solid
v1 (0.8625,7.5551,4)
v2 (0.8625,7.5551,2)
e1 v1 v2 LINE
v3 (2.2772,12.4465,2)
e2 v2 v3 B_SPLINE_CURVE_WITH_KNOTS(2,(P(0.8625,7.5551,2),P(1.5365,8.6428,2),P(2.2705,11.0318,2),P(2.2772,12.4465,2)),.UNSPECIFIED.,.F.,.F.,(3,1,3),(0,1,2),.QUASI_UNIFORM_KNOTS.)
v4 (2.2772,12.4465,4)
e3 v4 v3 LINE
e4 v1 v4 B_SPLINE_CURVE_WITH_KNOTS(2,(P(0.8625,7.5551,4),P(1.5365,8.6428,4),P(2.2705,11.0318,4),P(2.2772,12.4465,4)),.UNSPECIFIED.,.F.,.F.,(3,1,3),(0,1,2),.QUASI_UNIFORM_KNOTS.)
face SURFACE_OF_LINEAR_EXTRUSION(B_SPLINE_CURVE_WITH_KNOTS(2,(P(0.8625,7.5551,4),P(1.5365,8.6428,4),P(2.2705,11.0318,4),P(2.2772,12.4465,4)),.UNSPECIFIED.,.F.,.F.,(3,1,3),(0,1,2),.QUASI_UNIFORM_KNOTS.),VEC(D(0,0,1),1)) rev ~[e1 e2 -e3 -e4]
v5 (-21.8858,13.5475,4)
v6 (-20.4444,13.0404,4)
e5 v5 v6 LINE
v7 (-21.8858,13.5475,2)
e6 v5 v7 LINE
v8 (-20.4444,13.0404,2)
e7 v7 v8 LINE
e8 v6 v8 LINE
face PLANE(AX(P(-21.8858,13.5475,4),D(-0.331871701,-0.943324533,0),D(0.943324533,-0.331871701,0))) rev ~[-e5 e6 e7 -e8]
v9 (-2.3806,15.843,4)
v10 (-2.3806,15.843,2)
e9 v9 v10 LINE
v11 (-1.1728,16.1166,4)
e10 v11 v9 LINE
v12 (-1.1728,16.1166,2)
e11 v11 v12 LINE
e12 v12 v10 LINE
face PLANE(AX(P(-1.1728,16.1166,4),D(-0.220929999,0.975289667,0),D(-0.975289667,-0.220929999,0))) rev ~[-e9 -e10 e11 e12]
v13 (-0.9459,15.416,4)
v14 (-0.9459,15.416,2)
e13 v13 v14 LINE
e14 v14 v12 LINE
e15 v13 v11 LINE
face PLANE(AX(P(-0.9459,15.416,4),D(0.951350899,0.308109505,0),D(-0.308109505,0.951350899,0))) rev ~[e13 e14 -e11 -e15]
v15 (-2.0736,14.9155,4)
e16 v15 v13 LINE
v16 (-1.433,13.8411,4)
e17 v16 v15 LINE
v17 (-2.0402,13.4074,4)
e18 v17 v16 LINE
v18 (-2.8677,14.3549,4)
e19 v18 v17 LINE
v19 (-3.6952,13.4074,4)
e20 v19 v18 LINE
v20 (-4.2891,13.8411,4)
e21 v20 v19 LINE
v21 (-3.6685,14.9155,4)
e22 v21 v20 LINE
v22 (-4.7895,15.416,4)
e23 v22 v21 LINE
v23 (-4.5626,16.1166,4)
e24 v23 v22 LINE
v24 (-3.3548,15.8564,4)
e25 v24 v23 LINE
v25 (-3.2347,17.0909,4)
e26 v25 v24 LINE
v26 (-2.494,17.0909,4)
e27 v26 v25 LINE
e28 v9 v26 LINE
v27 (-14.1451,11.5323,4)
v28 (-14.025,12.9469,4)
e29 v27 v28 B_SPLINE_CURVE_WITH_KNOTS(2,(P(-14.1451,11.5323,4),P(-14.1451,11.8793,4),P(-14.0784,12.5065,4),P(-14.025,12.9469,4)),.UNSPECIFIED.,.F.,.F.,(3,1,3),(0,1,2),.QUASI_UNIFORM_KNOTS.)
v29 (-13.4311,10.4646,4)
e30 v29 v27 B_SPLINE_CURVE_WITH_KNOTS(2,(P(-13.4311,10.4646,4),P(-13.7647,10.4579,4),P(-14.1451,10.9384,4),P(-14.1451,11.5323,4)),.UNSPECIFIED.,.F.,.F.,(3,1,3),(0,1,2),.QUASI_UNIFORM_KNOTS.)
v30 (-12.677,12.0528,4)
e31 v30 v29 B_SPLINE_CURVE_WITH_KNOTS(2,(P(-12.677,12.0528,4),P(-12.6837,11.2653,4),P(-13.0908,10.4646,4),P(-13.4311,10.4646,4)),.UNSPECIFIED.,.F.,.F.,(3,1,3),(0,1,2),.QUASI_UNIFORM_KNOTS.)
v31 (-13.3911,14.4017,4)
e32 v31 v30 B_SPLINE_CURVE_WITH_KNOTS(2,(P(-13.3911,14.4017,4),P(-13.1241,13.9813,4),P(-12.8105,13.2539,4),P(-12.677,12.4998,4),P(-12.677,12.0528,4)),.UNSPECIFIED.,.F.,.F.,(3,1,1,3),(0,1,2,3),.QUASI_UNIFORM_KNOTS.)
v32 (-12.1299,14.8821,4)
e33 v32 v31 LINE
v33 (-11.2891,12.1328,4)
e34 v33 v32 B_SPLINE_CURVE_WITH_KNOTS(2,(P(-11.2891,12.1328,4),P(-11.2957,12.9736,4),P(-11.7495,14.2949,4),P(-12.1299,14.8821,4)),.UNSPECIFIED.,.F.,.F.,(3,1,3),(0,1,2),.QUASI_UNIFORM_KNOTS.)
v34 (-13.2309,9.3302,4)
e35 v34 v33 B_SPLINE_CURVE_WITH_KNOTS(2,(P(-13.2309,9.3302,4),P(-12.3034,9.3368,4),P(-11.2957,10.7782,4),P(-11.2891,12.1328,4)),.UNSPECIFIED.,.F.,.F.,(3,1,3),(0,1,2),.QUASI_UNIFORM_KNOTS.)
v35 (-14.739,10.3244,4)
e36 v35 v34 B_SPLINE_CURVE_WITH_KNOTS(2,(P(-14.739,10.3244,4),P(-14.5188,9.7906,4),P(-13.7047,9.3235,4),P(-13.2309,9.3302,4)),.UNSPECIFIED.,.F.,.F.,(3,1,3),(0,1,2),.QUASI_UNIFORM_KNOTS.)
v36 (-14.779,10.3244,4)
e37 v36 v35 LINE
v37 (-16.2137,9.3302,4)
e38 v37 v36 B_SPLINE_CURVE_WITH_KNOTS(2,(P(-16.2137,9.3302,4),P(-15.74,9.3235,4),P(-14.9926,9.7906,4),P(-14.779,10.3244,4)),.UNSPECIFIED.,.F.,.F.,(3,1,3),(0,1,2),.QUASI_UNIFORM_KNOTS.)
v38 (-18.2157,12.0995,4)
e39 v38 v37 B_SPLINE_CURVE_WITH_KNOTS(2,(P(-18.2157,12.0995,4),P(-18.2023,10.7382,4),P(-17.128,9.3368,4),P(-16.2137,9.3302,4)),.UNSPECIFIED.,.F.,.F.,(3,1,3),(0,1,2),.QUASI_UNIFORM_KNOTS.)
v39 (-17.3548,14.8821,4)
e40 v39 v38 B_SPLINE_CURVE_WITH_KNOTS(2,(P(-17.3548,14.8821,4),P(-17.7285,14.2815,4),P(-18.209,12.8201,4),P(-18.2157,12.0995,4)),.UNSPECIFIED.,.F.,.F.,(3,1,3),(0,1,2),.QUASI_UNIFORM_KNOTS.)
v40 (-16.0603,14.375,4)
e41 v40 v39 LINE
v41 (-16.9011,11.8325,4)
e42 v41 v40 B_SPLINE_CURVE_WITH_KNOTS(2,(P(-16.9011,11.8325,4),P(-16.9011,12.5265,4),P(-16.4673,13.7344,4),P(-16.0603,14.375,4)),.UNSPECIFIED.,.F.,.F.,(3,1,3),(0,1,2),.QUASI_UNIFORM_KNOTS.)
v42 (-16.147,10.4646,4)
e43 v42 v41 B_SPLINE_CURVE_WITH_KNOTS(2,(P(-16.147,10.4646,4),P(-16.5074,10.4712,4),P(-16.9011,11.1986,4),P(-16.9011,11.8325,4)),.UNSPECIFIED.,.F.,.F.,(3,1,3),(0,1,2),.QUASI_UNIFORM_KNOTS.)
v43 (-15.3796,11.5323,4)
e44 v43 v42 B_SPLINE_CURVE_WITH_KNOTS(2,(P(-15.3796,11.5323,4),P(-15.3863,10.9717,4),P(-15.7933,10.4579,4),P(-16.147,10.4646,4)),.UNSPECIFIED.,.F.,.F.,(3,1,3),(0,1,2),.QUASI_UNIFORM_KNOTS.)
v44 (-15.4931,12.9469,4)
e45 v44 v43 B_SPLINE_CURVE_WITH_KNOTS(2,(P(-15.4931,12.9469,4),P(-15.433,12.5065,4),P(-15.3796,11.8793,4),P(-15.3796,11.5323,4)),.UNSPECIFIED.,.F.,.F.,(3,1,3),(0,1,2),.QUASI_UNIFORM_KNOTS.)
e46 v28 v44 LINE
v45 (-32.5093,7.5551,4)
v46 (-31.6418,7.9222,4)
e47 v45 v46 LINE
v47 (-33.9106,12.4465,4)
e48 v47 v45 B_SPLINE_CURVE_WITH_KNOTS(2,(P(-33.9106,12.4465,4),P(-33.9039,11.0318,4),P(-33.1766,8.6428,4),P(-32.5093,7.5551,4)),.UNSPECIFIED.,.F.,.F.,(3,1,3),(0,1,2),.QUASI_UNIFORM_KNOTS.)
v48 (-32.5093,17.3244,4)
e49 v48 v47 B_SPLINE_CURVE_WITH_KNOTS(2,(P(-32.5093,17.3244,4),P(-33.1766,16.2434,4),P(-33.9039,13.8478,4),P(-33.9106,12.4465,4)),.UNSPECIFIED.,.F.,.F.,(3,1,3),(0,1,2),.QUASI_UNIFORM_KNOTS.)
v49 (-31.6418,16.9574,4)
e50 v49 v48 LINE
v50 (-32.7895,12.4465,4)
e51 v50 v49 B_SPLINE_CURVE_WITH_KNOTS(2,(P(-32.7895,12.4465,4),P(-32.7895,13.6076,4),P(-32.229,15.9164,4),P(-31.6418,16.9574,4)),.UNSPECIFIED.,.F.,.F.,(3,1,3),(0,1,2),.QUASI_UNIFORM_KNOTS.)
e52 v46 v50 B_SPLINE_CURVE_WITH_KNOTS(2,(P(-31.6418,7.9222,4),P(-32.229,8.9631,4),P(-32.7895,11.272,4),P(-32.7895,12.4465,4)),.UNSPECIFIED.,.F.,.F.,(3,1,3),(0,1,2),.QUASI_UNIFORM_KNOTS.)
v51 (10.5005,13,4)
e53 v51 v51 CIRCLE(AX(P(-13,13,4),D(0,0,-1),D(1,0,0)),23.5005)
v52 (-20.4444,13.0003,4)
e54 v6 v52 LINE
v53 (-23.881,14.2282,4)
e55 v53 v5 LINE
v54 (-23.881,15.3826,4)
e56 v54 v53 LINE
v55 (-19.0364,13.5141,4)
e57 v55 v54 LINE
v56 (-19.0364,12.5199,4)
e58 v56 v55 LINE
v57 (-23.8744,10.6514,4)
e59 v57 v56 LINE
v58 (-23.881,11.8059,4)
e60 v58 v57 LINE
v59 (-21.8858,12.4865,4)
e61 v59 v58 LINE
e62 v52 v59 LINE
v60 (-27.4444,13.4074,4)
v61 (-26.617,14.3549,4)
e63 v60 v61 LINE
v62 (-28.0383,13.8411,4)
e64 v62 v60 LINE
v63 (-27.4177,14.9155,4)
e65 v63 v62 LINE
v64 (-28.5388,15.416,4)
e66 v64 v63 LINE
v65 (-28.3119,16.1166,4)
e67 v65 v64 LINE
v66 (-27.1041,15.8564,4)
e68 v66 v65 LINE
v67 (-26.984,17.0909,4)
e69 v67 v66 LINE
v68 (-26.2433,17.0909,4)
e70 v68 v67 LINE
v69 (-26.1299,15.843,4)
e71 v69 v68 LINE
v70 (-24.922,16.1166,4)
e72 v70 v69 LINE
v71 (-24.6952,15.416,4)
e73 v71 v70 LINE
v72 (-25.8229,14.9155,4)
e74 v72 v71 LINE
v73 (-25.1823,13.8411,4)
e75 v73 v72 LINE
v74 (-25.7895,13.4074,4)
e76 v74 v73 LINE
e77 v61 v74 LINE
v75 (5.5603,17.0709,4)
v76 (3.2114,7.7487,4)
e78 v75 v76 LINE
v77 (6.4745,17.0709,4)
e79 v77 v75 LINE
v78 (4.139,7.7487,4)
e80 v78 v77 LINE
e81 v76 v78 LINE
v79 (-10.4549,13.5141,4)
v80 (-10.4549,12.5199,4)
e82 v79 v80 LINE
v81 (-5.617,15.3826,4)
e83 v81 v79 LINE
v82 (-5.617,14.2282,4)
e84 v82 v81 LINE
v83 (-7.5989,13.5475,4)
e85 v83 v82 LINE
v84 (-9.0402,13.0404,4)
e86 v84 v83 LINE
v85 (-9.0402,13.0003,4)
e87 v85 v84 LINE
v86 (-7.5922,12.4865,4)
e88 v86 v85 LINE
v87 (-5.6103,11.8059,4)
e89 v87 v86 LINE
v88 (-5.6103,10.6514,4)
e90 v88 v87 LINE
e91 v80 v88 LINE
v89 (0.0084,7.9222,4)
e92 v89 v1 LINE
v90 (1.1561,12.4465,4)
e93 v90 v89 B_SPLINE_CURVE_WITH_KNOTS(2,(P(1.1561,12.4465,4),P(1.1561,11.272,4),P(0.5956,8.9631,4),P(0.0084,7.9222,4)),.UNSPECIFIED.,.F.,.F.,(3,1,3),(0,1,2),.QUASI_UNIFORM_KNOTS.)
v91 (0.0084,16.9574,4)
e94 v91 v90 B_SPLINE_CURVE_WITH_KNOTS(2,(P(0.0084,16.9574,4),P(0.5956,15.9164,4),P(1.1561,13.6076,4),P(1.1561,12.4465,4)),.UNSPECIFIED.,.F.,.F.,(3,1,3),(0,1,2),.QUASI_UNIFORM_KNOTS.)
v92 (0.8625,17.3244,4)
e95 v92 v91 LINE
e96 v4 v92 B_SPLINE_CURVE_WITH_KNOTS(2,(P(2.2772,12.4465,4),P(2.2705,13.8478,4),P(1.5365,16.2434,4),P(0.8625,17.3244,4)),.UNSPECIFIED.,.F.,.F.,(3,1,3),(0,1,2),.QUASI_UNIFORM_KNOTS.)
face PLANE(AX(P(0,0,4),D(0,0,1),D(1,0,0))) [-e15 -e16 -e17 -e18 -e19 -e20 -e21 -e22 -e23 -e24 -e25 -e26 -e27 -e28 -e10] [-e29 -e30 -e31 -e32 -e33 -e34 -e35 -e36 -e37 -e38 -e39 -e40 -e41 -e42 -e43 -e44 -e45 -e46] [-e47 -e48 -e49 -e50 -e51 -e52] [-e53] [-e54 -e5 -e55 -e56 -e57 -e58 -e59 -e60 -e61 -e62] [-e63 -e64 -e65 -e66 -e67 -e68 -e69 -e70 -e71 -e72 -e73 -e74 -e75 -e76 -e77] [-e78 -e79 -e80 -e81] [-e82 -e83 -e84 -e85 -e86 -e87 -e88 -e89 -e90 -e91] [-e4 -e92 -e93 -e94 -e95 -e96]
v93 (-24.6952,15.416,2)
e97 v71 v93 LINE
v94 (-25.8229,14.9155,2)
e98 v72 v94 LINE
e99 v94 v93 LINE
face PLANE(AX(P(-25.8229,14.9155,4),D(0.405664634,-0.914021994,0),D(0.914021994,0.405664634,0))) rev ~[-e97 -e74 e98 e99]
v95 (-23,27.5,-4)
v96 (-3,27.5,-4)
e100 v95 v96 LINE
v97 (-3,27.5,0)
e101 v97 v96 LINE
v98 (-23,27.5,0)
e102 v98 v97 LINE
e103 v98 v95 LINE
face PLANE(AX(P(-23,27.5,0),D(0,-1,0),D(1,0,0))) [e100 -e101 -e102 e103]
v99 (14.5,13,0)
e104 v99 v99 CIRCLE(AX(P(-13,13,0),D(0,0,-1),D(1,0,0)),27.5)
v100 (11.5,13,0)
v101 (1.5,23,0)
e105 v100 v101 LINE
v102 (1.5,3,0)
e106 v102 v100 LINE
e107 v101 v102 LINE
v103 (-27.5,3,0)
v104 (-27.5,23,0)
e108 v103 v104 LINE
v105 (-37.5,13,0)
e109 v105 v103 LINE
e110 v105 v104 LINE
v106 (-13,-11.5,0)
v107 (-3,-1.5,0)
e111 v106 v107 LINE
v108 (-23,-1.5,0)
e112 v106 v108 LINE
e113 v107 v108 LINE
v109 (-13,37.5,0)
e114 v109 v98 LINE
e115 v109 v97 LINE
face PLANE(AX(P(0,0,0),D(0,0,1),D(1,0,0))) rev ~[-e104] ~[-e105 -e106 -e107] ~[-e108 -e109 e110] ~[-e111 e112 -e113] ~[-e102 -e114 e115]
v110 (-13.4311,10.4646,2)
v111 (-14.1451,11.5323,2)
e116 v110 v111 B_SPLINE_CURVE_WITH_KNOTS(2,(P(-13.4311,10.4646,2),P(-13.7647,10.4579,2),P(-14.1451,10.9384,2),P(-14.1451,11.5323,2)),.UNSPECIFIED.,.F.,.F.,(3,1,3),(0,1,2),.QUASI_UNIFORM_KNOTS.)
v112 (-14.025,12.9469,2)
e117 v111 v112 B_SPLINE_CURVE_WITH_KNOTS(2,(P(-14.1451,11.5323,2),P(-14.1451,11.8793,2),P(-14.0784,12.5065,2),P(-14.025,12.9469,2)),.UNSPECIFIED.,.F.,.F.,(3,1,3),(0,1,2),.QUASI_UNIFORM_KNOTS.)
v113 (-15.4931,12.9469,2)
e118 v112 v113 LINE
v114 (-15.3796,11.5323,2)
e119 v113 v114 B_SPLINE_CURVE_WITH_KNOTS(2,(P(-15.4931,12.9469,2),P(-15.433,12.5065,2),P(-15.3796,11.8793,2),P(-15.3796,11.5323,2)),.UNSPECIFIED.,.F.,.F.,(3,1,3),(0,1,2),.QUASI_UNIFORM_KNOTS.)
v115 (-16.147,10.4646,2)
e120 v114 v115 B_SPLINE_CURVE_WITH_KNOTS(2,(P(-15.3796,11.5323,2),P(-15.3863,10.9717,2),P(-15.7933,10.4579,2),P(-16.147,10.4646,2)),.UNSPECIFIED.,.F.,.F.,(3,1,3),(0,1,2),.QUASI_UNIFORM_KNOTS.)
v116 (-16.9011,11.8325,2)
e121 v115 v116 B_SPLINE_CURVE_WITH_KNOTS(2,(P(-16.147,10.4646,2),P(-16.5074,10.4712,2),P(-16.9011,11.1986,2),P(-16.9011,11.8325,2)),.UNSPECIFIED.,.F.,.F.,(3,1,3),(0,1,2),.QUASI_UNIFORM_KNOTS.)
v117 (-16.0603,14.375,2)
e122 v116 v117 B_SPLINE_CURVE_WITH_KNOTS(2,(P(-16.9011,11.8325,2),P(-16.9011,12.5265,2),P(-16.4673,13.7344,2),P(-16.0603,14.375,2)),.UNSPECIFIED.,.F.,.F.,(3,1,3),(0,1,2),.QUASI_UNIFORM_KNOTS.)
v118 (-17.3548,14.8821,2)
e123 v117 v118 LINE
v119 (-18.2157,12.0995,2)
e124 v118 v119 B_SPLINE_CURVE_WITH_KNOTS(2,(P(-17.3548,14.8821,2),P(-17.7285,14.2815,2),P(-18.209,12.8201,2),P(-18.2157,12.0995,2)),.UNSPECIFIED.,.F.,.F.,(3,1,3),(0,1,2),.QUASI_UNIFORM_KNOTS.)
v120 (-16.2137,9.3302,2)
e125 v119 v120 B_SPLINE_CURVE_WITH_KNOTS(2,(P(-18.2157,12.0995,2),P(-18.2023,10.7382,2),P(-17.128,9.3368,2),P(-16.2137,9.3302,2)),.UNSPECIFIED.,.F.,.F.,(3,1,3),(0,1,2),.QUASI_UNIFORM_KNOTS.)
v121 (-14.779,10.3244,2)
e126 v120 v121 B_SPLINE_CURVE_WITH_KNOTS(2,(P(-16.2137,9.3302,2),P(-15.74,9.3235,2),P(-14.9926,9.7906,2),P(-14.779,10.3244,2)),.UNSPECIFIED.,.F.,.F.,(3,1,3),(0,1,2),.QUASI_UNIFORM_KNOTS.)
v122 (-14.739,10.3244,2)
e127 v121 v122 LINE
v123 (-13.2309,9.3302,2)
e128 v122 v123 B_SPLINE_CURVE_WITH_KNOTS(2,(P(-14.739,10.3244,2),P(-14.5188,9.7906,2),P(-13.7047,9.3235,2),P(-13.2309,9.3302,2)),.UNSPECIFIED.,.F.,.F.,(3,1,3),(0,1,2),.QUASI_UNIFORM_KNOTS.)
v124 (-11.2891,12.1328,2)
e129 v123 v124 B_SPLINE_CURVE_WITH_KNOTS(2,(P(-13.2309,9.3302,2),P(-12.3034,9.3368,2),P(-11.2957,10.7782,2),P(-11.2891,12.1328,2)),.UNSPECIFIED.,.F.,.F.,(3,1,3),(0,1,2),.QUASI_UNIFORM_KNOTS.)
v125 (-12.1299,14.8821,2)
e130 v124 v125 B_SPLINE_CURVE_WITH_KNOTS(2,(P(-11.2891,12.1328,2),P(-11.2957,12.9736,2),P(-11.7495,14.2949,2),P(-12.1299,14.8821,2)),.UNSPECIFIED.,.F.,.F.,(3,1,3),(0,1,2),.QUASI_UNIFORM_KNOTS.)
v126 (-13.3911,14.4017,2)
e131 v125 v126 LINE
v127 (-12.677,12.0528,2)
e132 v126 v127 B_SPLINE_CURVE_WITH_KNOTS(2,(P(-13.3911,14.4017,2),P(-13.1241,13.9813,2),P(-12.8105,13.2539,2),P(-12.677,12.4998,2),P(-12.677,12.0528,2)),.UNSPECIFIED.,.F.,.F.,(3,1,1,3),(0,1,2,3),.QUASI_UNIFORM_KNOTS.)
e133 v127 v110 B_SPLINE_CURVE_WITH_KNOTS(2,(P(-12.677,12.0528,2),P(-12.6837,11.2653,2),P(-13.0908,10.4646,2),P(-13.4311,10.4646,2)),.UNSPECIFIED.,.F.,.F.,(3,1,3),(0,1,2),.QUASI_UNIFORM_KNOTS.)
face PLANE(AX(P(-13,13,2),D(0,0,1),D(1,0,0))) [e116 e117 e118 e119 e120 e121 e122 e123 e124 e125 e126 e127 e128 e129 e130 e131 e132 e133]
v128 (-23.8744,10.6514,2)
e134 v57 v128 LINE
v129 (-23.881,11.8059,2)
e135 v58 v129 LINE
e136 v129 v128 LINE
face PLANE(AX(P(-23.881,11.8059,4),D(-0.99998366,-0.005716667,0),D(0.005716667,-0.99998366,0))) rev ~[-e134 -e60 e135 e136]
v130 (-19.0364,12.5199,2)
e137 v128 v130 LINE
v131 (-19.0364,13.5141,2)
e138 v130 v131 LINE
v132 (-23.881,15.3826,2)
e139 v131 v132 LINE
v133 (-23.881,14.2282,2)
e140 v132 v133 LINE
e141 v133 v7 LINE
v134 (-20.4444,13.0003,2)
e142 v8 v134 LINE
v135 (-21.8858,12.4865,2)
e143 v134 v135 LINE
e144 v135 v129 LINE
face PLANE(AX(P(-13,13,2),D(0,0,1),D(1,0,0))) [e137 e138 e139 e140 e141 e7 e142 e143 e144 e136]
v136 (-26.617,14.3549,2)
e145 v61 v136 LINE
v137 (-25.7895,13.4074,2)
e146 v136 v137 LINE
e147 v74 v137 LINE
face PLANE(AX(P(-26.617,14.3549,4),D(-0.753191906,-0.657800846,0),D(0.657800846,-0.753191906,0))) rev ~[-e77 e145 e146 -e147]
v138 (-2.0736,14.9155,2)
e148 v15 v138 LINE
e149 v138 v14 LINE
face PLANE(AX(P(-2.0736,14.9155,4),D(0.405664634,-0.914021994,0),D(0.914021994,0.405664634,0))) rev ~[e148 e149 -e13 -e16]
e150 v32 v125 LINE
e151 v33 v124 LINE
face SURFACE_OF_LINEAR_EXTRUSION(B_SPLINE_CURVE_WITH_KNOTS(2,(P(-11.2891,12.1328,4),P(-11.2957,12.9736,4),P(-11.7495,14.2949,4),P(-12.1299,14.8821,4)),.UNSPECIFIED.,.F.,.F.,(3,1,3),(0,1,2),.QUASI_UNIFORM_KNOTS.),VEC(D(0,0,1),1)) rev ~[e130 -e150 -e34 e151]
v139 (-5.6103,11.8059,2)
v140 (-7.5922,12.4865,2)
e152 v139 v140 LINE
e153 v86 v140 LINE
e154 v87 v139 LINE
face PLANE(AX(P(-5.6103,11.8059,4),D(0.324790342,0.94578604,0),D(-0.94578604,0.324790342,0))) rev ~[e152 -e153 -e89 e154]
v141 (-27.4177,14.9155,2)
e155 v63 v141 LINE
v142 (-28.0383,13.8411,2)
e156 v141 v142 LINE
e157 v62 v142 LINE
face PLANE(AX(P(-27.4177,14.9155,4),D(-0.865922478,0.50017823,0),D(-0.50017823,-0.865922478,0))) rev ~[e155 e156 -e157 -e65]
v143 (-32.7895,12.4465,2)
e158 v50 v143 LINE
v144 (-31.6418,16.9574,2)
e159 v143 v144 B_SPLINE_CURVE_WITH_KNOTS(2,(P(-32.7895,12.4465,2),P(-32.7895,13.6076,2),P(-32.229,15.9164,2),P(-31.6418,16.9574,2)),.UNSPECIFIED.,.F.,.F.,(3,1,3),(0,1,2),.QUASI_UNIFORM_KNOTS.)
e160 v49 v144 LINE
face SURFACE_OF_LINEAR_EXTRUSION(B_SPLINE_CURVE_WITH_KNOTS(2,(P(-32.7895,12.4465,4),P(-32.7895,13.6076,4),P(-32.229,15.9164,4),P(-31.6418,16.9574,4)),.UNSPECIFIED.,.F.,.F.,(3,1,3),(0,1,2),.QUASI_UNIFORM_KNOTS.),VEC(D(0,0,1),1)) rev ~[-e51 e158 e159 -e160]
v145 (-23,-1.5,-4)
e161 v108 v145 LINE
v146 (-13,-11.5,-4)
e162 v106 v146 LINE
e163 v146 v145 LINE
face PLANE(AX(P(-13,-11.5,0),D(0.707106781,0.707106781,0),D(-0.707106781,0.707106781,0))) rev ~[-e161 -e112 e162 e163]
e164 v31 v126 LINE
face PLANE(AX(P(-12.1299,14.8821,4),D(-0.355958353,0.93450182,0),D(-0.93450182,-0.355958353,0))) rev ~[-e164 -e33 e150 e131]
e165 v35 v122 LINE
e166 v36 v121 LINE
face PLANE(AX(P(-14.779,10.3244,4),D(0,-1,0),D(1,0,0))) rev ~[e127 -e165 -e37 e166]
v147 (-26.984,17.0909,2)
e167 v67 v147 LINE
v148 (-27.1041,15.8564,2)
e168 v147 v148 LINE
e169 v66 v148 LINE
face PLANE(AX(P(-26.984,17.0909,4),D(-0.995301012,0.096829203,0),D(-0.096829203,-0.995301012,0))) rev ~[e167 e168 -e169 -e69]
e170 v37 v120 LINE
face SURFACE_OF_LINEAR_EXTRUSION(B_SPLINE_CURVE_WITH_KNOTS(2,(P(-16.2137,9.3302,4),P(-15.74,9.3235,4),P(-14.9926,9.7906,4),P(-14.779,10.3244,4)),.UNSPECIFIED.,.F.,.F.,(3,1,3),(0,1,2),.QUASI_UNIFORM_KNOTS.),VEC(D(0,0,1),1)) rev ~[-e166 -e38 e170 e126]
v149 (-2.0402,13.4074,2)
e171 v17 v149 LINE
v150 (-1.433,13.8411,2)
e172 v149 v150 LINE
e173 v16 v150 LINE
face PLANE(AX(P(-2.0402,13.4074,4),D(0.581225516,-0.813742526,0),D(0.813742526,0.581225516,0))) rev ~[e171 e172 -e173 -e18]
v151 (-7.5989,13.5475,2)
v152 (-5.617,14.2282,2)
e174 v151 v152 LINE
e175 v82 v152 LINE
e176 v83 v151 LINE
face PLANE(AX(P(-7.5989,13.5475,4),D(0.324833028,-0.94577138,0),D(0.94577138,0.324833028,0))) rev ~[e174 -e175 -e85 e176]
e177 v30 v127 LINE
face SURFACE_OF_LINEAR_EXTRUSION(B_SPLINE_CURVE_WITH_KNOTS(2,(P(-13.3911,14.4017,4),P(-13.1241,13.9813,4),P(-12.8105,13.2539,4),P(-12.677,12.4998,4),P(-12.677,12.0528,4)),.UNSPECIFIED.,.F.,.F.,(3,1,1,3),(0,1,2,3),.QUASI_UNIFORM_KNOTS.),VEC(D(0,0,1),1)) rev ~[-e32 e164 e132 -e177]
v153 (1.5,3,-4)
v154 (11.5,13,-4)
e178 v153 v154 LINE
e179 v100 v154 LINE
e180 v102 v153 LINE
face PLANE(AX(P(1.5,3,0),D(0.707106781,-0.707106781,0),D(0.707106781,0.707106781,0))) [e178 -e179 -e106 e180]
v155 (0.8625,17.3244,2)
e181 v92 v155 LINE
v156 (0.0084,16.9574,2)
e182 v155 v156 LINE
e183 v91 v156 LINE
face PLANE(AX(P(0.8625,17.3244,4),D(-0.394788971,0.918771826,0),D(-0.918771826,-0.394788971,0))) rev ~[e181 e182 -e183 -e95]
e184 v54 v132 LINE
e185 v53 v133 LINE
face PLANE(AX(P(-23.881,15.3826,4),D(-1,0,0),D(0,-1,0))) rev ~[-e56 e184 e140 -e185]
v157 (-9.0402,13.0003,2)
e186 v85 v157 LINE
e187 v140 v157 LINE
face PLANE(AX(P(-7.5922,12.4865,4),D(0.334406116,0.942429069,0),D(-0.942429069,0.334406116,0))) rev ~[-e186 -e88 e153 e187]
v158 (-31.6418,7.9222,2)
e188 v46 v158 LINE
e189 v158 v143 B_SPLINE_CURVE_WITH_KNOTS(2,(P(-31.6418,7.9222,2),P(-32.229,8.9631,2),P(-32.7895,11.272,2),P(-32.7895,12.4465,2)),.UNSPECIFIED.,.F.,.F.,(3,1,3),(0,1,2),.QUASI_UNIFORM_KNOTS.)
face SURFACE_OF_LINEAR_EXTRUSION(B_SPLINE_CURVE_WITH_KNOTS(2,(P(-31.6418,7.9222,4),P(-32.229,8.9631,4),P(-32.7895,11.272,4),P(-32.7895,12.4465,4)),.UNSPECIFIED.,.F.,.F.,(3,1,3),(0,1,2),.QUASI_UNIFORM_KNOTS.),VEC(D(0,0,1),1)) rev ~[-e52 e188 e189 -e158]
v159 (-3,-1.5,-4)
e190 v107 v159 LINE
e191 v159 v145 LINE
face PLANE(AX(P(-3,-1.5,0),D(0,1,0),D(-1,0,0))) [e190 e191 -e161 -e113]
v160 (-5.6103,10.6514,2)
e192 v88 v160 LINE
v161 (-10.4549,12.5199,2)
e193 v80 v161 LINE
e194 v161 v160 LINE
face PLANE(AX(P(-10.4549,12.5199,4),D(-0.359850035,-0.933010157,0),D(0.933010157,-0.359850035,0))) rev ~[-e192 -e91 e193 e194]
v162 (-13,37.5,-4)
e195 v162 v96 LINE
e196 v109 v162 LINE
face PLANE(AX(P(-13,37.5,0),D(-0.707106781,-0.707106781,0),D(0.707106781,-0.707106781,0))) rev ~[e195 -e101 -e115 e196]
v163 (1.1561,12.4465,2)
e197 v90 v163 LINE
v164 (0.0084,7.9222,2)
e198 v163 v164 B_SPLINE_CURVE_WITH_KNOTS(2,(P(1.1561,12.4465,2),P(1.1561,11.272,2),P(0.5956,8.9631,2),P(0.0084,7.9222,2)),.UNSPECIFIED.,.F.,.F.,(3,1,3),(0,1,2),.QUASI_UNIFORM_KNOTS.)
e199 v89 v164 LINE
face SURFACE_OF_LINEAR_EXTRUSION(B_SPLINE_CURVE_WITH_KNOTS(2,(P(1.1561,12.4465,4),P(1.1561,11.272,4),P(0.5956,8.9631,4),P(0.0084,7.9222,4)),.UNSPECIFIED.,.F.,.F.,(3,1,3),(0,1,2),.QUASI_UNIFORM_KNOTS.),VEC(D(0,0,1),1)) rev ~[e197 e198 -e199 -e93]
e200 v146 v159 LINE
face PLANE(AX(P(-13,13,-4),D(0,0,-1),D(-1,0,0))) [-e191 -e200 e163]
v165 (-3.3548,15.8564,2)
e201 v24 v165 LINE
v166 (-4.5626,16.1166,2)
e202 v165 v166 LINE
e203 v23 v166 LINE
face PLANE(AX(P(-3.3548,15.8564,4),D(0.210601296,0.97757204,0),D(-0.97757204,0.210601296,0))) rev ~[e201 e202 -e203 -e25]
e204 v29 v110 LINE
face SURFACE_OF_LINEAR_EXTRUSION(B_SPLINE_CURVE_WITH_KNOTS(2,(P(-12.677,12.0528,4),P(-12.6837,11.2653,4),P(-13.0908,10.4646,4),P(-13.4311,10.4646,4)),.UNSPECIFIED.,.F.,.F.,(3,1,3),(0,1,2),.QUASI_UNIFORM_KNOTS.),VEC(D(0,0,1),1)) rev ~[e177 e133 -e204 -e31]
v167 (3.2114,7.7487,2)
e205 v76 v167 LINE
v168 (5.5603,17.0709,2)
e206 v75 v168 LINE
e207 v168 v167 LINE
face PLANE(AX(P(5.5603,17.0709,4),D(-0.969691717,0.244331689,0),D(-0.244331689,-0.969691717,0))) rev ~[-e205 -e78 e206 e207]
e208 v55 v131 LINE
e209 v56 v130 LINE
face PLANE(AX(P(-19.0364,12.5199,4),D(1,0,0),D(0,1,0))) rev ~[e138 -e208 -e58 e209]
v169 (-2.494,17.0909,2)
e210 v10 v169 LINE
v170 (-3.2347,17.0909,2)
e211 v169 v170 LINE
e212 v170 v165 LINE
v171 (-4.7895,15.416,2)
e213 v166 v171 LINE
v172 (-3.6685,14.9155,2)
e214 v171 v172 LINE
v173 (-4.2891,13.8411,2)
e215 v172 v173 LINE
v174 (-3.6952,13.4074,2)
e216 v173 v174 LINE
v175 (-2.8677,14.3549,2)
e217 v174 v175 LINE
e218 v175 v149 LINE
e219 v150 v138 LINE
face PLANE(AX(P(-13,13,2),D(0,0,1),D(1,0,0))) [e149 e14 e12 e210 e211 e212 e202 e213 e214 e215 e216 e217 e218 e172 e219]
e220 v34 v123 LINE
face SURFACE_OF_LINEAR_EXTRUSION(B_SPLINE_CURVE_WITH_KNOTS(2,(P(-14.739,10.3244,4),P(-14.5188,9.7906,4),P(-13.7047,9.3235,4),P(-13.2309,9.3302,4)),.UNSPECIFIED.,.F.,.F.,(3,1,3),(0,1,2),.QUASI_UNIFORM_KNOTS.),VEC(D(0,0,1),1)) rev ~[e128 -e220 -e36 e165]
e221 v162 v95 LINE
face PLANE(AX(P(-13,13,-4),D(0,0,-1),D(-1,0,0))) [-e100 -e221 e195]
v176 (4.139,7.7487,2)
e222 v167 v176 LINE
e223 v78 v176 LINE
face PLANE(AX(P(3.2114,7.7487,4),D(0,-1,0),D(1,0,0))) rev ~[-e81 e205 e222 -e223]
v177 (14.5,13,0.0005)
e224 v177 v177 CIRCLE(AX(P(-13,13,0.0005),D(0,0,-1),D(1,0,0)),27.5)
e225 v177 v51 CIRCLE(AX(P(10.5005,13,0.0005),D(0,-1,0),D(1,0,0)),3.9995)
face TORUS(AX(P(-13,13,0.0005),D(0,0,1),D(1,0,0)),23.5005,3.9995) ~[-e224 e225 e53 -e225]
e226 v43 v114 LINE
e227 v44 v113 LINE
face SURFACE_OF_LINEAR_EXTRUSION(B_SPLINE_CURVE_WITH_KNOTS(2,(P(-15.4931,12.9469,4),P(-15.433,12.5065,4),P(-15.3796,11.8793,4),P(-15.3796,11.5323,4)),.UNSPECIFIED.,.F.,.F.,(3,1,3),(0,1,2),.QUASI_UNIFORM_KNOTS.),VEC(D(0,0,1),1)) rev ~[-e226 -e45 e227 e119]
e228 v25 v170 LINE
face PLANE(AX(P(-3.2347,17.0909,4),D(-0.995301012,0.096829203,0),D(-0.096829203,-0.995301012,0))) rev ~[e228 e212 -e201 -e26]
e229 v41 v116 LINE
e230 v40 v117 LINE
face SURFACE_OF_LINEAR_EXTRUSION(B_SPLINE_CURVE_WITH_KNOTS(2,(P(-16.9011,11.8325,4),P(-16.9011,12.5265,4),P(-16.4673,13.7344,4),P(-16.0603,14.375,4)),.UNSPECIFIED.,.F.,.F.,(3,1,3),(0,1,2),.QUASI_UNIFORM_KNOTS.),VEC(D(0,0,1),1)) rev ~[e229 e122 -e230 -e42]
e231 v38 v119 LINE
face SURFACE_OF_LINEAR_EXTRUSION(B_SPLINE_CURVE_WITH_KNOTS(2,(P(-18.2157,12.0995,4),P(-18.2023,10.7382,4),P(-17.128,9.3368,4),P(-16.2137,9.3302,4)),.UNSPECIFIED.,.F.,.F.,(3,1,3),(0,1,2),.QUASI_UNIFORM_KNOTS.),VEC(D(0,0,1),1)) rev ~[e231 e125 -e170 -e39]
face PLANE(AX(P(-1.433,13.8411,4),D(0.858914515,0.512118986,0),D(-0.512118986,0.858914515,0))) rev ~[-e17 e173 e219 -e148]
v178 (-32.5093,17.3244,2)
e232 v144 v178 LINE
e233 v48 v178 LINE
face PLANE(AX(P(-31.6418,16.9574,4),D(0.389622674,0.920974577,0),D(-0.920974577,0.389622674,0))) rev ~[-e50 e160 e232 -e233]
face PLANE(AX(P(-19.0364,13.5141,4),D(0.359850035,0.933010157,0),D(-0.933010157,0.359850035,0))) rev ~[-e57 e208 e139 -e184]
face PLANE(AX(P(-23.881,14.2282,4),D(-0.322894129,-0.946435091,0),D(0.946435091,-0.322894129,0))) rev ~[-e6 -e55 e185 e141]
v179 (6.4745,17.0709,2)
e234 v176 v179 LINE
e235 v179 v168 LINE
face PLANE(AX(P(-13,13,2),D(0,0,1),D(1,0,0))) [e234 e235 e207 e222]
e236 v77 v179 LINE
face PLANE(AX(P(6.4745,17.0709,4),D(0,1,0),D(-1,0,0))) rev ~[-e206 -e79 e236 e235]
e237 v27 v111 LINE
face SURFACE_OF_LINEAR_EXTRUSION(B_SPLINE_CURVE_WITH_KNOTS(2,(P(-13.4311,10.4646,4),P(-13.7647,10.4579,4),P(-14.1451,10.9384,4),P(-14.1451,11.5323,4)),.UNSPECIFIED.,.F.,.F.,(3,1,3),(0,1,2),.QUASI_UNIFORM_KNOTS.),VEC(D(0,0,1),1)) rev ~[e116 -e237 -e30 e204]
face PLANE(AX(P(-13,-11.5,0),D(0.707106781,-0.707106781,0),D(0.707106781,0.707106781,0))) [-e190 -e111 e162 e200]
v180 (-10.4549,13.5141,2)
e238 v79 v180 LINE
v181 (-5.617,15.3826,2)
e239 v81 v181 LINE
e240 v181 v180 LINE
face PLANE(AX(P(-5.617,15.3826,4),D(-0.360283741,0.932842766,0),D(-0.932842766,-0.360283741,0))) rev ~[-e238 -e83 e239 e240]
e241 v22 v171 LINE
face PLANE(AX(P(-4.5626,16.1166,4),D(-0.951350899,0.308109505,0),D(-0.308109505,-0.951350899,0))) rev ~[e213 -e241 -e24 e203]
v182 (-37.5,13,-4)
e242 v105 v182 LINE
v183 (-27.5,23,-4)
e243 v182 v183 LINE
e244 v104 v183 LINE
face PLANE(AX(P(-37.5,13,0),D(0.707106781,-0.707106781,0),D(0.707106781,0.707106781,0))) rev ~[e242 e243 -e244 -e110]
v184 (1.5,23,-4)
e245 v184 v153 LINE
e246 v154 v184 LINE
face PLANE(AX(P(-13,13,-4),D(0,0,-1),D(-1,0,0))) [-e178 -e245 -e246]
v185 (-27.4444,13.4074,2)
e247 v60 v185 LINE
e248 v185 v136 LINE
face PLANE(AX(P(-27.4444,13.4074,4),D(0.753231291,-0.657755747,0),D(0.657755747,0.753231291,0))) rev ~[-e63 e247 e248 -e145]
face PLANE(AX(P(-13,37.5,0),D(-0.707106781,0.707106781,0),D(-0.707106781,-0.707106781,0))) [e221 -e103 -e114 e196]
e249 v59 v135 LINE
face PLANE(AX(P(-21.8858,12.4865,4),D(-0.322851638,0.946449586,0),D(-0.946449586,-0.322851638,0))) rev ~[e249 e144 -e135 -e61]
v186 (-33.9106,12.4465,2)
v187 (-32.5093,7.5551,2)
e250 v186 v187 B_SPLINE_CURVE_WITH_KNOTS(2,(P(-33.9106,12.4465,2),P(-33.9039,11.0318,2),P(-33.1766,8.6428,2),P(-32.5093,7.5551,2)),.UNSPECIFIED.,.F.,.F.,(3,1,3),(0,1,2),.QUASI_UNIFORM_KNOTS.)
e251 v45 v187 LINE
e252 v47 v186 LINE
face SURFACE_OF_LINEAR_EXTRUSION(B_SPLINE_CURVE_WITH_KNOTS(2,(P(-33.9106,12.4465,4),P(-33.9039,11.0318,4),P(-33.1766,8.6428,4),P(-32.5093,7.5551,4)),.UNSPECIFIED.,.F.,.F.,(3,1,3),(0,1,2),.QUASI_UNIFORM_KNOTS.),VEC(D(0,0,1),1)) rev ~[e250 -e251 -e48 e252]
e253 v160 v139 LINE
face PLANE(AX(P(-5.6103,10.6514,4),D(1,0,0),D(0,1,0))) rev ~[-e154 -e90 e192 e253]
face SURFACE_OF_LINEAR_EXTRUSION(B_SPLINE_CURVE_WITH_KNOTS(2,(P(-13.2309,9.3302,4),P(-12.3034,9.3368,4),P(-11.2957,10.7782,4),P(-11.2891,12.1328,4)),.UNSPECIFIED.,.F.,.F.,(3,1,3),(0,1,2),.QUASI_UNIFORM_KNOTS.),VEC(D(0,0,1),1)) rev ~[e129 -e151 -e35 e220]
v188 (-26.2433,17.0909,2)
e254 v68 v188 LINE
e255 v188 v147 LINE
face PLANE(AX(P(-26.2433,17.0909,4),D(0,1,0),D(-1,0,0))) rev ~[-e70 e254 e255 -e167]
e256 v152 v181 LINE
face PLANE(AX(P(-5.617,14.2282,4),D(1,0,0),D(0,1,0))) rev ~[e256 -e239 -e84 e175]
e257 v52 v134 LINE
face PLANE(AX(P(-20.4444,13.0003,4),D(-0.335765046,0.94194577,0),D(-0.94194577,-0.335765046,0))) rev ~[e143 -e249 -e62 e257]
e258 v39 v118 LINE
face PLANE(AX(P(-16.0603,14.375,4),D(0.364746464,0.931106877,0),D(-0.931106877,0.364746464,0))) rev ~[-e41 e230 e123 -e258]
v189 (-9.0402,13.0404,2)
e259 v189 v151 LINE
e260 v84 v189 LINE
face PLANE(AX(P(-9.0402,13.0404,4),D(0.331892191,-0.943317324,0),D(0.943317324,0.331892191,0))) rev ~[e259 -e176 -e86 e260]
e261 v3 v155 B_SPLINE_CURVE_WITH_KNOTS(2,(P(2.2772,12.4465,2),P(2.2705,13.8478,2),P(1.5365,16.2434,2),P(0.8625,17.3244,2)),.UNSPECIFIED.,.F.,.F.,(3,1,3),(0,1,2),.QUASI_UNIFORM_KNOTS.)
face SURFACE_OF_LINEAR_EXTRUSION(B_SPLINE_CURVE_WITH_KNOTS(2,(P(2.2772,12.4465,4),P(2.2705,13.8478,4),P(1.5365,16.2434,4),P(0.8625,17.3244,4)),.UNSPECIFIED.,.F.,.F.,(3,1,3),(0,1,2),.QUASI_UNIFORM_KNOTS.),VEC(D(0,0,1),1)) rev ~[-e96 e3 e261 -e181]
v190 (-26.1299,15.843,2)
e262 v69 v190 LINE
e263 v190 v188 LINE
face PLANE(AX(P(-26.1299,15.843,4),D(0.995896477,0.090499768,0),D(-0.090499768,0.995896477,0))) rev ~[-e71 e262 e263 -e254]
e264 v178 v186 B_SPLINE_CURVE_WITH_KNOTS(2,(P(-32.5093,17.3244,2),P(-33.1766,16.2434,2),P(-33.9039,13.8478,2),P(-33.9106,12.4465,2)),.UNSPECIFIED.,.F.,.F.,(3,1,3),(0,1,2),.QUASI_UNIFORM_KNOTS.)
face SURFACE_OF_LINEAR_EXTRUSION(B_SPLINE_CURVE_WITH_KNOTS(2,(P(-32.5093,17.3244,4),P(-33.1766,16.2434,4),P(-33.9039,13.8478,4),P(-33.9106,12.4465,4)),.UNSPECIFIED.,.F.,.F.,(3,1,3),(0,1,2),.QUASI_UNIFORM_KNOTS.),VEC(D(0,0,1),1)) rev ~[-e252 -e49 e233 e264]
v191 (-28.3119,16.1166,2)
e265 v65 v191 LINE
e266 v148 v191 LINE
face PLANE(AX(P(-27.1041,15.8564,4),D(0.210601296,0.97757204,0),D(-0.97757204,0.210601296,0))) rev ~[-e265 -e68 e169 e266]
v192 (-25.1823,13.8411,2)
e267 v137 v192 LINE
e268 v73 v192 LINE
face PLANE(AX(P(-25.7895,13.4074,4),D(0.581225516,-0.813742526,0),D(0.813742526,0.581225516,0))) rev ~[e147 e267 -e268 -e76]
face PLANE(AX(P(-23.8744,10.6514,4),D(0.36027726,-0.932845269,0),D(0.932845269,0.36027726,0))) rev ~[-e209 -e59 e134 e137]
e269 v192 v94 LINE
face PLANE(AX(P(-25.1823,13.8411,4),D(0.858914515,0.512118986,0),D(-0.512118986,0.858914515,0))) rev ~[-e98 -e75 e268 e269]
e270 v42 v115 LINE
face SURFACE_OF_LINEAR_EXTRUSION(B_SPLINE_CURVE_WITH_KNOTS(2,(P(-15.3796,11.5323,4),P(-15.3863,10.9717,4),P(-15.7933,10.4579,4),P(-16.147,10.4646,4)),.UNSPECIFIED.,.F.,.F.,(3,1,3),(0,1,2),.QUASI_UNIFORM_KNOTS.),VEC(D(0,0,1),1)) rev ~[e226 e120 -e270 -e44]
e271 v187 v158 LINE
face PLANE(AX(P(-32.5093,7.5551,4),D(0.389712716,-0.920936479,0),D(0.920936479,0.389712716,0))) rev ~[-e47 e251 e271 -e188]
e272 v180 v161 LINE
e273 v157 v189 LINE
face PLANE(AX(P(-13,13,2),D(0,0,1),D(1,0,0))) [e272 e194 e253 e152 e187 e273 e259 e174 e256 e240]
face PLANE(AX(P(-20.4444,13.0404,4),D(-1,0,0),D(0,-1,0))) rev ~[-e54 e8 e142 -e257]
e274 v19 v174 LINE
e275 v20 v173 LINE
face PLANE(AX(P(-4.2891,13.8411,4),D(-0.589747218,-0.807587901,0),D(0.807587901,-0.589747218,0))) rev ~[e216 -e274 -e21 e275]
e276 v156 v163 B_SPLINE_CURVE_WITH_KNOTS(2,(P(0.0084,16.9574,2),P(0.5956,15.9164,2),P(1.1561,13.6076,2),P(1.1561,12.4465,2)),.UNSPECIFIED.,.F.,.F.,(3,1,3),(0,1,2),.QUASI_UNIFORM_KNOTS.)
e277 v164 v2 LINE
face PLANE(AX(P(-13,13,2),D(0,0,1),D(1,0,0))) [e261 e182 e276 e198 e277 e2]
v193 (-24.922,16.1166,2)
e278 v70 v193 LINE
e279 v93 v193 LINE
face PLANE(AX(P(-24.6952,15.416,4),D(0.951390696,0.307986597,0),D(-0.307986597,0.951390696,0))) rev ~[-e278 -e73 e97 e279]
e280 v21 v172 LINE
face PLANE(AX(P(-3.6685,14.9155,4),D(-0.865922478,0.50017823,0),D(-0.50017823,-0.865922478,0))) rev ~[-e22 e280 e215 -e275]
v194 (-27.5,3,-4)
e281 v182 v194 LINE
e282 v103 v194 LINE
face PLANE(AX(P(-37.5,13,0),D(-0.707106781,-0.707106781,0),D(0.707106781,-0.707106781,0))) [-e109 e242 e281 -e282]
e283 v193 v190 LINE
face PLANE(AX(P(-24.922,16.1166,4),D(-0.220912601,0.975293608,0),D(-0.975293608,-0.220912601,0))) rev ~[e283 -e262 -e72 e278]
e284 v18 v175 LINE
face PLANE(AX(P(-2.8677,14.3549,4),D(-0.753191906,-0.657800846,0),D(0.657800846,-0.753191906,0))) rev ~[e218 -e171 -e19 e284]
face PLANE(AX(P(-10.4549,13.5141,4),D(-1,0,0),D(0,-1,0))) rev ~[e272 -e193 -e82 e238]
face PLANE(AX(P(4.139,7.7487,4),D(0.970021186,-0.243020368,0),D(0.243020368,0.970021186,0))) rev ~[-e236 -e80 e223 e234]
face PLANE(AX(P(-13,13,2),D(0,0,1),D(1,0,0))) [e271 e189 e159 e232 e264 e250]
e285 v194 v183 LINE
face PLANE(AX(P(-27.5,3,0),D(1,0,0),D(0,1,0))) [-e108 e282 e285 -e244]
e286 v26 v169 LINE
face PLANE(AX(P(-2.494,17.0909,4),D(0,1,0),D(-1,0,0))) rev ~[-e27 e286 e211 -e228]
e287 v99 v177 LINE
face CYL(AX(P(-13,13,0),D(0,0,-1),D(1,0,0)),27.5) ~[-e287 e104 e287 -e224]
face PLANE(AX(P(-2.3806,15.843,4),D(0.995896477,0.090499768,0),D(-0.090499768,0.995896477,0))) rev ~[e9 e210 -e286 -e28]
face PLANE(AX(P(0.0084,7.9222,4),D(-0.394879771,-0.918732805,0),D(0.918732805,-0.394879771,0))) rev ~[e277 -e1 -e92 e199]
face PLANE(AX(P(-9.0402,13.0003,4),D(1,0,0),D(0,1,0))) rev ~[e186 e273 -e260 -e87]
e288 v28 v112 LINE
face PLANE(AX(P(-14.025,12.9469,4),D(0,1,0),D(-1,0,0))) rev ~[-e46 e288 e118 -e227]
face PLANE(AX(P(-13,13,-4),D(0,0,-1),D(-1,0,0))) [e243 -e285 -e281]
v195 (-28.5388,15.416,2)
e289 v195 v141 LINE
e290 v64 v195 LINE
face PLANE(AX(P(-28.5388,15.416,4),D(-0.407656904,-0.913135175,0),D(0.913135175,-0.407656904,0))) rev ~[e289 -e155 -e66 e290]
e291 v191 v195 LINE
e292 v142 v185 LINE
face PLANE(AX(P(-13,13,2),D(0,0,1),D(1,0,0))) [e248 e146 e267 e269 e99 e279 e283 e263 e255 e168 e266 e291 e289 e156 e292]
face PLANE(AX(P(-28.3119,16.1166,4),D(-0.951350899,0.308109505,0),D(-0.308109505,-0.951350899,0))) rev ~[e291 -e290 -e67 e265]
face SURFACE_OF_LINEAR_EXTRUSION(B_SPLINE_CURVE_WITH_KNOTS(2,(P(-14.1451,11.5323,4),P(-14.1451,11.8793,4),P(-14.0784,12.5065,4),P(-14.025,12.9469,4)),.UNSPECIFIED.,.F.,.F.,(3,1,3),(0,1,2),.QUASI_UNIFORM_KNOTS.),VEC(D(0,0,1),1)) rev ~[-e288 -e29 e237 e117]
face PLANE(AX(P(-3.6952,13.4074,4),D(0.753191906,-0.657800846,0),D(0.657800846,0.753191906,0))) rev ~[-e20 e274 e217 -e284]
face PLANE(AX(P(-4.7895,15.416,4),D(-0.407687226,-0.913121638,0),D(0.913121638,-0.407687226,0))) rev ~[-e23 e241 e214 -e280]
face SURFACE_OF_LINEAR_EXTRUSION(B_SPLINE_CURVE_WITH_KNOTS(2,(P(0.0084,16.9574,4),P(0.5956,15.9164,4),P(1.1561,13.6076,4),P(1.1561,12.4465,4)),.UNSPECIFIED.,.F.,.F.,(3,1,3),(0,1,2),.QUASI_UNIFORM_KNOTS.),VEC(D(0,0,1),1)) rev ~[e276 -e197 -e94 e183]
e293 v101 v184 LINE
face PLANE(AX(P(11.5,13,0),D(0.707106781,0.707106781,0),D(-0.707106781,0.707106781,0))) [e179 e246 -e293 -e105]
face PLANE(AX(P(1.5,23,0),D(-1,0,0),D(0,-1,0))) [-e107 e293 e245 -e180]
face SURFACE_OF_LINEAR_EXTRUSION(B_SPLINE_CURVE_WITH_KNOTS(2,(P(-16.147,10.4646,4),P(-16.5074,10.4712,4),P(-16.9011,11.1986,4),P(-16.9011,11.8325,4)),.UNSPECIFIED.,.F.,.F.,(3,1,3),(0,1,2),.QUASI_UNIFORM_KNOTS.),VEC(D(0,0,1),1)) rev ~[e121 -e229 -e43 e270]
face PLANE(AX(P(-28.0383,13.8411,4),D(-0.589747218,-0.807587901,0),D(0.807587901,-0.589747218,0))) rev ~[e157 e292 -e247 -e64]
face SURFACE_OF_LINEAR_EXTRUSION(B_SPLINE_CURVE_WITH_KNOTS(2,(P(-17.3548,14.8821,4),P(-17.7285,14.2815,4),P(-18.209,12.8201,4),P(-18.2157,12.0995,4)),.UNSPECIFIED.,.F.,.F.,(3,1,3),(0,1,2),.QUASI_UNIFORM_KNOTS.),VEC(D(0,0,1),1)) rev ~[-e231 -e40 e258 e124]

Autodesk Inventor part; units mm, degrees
ref_plane "YZ Plane" through (0, 0, 0) normal (1, 0, 0) x (0, 1, 0)
ref_plane "XZ Plane" through (0, 0, 0) normal (0, 1, 0) x (-1, 0, 0)
ref_plane "XY Plane" through (0, 0, 0) normal (0, 0, 1) x (1, 0, 0)
sketch "スケッチ1" plane through (0, 0, 0) normal (0, 0, 1) x (1, 0, 0)
  line L0 (23, 24.5) -> (3, 24.5) projected
  line L1 (23, 24.5) -> (3, 24.5) construction
  line L2 (23, 24.5) -> (3, 24.5)
  line L3 (23, 24.5) -> (3, 24.5)
  line L4 (23, 24.5) -> (3, 24.5)
  line L5 (23, 24.5) -> (3, 24.5) construction
  line L6 (13, 14.5) -> (3, 24.5) projected
  line L7 (3, 1.5) -> (13, 11.5) projected
  line L8 (11.5, 13) -> (1.5, 3) projected
  line L9 (1.5, 23) -> (11.5, 13) projected
  line L10 (1.5, 3) -> (1.5, 23) projected
  line L11 (0, 0) -> (0, 26) projected
  line L12 (0, 26) -> (50.5, 26) projected
  line L13 (50.5, 0) -> (0, 0) projected
  line L14 (0, 0) -> (-26, 0)
  line L15 (-26, 0) -> (-26, 26)
  line L16 (-26, 26) -> (0, 26)
  line L17 (0, 26) -> (0, 0)
  line L18 (-26, 0) -> (0, 26)
  line L19 (0, 0) -> (-26, 26)
  circle A0 centre (-13, 13) radius 27.5
  dimension "d0" = 26
extrude "押し出し1" add sketch "スケッチ1" along normal blind 4 contours L8 L10 L9 | L19 L18 L11 | L11 L12 A0 L13 | L13 A0 L12 L16 L15 L14 | L14 L18 L19 | L18 L19 L16 | L15 L19 L18
sketch "スケッチ2" plane through (-13, 13, 0) normal (0, 0, -1) x (-1, 0, 0)
  line L0 (-24.5, 0) -> (-14.5, 10) projected
  line L1 (-14.5, 10) -> (-14.5, -10) projected
  line L2 (-14.5, -10) -> (-24.5, 0) projected
  line L3 (-14.5, 10) -> (-14.5, -10)
  line L4 (-24.5, 0) -> (-14.5, 10)
  line L5 (-24.5, 0) -> (-14.5, -10)
  line L6 (-10, -14.5) -> (10, -14.5)
  line L7 (0, -24.5) -> (-10, -14.5)
  line L8 (0, -24.5) -> (10, -14.5)
  line L9 (14.5, -10) -> (14.5, 10)
  line L10 (24.5, 0) -> (14.5, -10)
  line L11 (24.5, 0) -> (14.5, 10)
  line L12 (10, 14.5) -> (-10, 14.5)
  line L13 (0, 24.5) -> (10, 14.5)
  line L14 (0, 24.5) -> (-10, 14.5)
  point P0 (-13, -13)
  point P1 (0, 0)
  dimension "d5" = 360
fillet "フィレット1" radius 4 1 edges at (-40.5, 13, 4)
extrude "押し出し2" add sketch "スケッチ2" along normal blind 4
sketch "スケッチ3" plane through (-13, 13, 4) normal (0, 0, 1) x (1, 0, 0)
  line L0 (-21.7114, 4.3311) -> (23.7979, 4.3311) construction
  line L1 (23.7979, 4.3311) -> (23.7979, -14.3854) construction
  line L2 (23.7979, -14.3854) -> (-21.7114, -14.3854) construction
  line L3 (-21.7114, -14.3854) -> (-21.7114, 4.3311) construction
  line L4 (-19.5093, -5.4449) -> (-18.6418, -5.0778)
  spline S0 degree 2 poles (-18.6418, -5.0778) (-19.229, -4.0369) (-19.7895, -1.728) (-19.7895, -0.5535) knots 0 0 0 1 2 2 2
  spline S1 degree 2 poles (-19.7895, -0.5535) (-19.7895, 0.6076) (-19.229, 2.9164) (-18.6418, 3.9574) knots 0 0 0 1 2 2 2
  line L5 (-18.6418, 3.9574) -> (-19.5093, 4.3244)
  spline S2 degree 2 poles (-19.5093, 4.3244) (-20.1766, 3.2434) (-20.9039, 0.8478) (-20.9106, -0.5535) knots 0 0 0 1 2 2 2
  spline S3 degree 2 poles (-20.9106, -0.5535) (-20.9039, -1.9682) (-20.1766, -4.3572) (-19.5093, -5.4449) knots 0 0 0 1 2 2 2
  line L6 (-14.4444, 0.4074) -> (-13.617, 1.3549)
  line L7 (-13.617, 1.3549) -> (-12.7895, 0.4074)
  line L8 (-12.7895, 0.4074) -> (-12.1823, 0.8411)
  line L9 (-12.1823, 0.8411) -> (-12.8229, 1.9155)
  line L10 (-12.8229, 1.9155) -> (-11.6952, 2.416)
  line L11 (-11.6952, 2.416) -> (-11.922, 3.1166)
  line L12 (-11.922, 3.1166) -> (-13.1299, 2.843)
  line L13 (-13.1299, 2.843) -> (-13.2433, 4.0909)
  line L14 (-13.2433, 4.0909) -> (-13.984, 4.0909)
  line L15 (-13.984, 4.0909) -> (-14.1041, 2.8564)
  line L16 (-14.1041, 2.8564) -> (-15.3119, 3.1166)
  line L17 (-15.3119, 3.1166) -> (-15.5388, 2.416)
  line L18 (-15.5388, 2.416) -> (-14.4177, 1.9155)
  line L19 (-14.4177, 1.9155) -> (-15.0383, 0.8411)
  line L20 (-15.0383, 0.8411) -> (-14.4444, 0.4074)
  line L21 (-10.8744, -2.3486) -> (-6.0364, -0.4801)
  line L22 (-6.0364, -0.4801) -> (-6.0364, 0.5141)
  line L23 (-6.0364, 0.5141) -> (-10.881, 2.3826)
  line L24 (-10.881, 2.3826) -> (-10.881, 1.2282)
  line L25 (-10.881, 1.2282) -> (-8.8858, 0.5475)
  line L26 (-8.8858, 0.5475) -> (-7.4444, 0.0404)
  line L27 (-7.4444, 0.0404) -> (-7.4444, 0.0003)
  line L28 (-7.4444, 0.0003) -> (-8.8858, -0.5135)
  line L29 (-8.8858, -0.5135) -> (-10.881, -1.1941)
  line L30 (-10.881, -1.1941) -> (-10.8744, -2.3486)
  spline S4 degree 2 poles (-3.2137, -3.6698) (-2.74, -3.6765) (-1.9926, -3.2094) (-1.779, -2.6756) knots 0 0 0 1 2 2 2
  line L31 (-1.779, -2.6756) -> (-1.739, -2.6756)
  spline S5 degree 2 poles (-1.739, -2.6756) (-1.5188, -3.2094) (-0.7047, -3.6765) (-0.2309, -3.6698) knots 0 0 0 1 2 2 2
  spline S6 degree 2 poles (-0.2309, -3.6698) (0.6966, -3.6632) (1.7043, -2.2218) (1.7109, -0.8672) knots 0 0 0 1 2 2 2
  spline S7 degree 2 poles (1.7109, -0.8672) (1.7043, -0.0264) (1.2505, 1.2949) (0.8701, 1.8821) knots 0 0 0 1 2 2 2
  line L32 (0.8701, 1.8821) -> (-0.3911, 1.4017)
  spline S8 degree 2 poles (-0.3911, 1.4017) (-0.1241, 0.9813) (0.1895, 0.2539) (0.323, -0.5002) (0.323, -0.9472) knots 0 0 0 1 2 3 3 3
  spline S9 degree 2 poles (0.323, -0.9472) (0.3163, -1.7347) (-0.0908, -2.5354) (-0.4311, -2.5354) knots 0 0 0 1 2 2 2
  spline S10 degree 2 poles (-0.4311, -2.5354) (-0.7647, -2.5421) (-1.1451, -2.0616) (-1.1451, -1.4677) knots 0 0 0 1 2 2 2
  spline S11 degree 2 poles (-1.1451, -1.4677) (-1.1451, -1.1207) (-1.0784, -0.4935) (-1.025, -0.0531) knots 0 0 0 1 2 2 2
  line L33 (-1.025, -0.0531) -> (-2.4931, -0.0531)
  spline S12 degree 2 poles (-2.4931, -0.0531) (-2.433, -0.4935) (-2.3796, -1.1207) (-2.3796, -1.4677) knots 0 0 0 1 2 2 2
  spline S13 degree 2 poles (-2.3796, -1.4677) (-2.3863, -2.0283) (-2.7933, -2.5421) (-3.147, -2.5354) knots 0 0 0 1 2 2 2
  spline S14 degree 2 poles (-3.147, -2.5354) (-3.5074, -2.5288) (-3.9011, -1.8014) (-3.9011, -1.1675) knots 0 0 0 1 2 2 2
  spline S15 degree 2 poles (-3.9011, -1.1675) (-3.9011, -0.4735) (-3.4673, 0.7344) (-3.0603, 1.375) knots 0 0 0 1 2 2 2
  line L34 (-3.0603, 1.375) -> (-4.3548, 1.8821)
  spline S16 degree 2 poles (-4.3548, 1.8821) (-4.7285, 1.2815) (-5.209, -0.1799) (-5.2157, -0.9005) knots 0 0 0 1 2 2 2
  spline S17 degree 2 poles (-5.2157, -0.9005) (-5.2023, -2.2618) (-4.128, -3.6632) (-3.2137, -3.6698) knots 0 0 0 1 2 2 2
  line L35 (7.3897, -2.3486) -> (7.3897, -1.1941)
  line L36 (7.3897, -1.1941) -> (5.4078, -0.5135)
  line L37 (5.4078, -0.5135) -> (3.9598, 0.0003)
  line L38 (3.9598, 0.0003) -> (3.9598, 0.0404)
  line L39 (3.9598, 0.0404) -> (5.4011, 0.5475)
  line L40 (5.4011, 0.5475) -> (7.383, 1.2282)
  line L41 (7.383, 1.2282) -> (7.383, 2.3826)
  line L42 (7.383, 2.3826) -> (2.5451, 0.5141)
  line L43 (2.5451, 0.5141) -> (2.5451, -0.4801)
  line L44 (2.5451, -0.4801) -> (7.3897, -2.3486)
  line L45 (9.3048, 0.4074) -> (10.1323, 1.3549)
  line L46 (10.1323, 1.3549) -> (10.9598, 0.4074)
  line L47 (10.9598, 0.4074) -> (11.567, 0.8411)
  line L48 (11.567, 0.8411) -> (10.9264, 1.9155)
  line L49 (10.9264, 1.9155) -> (12.0541, 2.416)
  line L50 (12.0541, 2.416) -> (11.8272, 3.1166)
  line L51 (11.8272, 3.1166) -> (10.6194, 2.843)
  line L52 (10.6194, 2.843) -> (10.506, 4.0909)
  line L53 (10.506, 4.0909) -> (9.7653, 4.0909)
  line L54 (9.7653, 4.0909) -> (9.6452, 2.8564)
  line L55 (9.6452, 2.8564) -> (8.4374, 3.1166)
  line L56 (8.4374, 3.1166) -> (8.2105, 2.416)
  line L57 (8.2105, 2.416) -> (9.3315, 1.9155)
  line L58 (9.3315, 1.9155) -> (8.7109, 0.8411)
  line L59 (8.7109, 0.8411) -> (9.3048, 0.4074)
  spline S18 degree 2 poles (13.8625, -5.4449) (14.5365, -4.3572) (15.2705, -1.9682) (15.2772, -0.5535) knots 0 0 0 1 2 2 2
  spline S19 degree 2 poles (15.2772, -0.5535) (15.2705, 0.8478) (14.5365, 3.2434) (13.8625, 4.3244) knots 0 0 0 1 2 2 2
  line L60 (13.8625, 4.3244) -> (13.0084, 3.9574)
  spline S20 degree 2 poles (13.0084, 3.9574) (13.5956, 2.9164) (14.1561, 0.6076) (14.1561, -0.5535) knots 0 0 0 1 2 2 2
  spline S21 degree 2 poles (14.1561, -0.5535) (14.1561, -1.728) (13.5956, -4.0369) (13.0084, -5.0778) knots 0 0 0 1 2 2 2
  line L61 (13.0084, -5.0778) -> (13.8625, -5.4449)
  line L62 (16.2114, -5.2513) -> (17.139, -5.2513)
  line L63 (17.139, -5.2513) -> (19.4745, 4.0709)
  line L64 (19.4745, 4.0709) -> (18.5603, 4.0709)
  line L65 (18.5603, 4.0709) -> (16.2114, -5.2513)
  point P0 (13, -13)
extrude "押し出し3" cut sketch "スケッチ3" against normal blind 2
